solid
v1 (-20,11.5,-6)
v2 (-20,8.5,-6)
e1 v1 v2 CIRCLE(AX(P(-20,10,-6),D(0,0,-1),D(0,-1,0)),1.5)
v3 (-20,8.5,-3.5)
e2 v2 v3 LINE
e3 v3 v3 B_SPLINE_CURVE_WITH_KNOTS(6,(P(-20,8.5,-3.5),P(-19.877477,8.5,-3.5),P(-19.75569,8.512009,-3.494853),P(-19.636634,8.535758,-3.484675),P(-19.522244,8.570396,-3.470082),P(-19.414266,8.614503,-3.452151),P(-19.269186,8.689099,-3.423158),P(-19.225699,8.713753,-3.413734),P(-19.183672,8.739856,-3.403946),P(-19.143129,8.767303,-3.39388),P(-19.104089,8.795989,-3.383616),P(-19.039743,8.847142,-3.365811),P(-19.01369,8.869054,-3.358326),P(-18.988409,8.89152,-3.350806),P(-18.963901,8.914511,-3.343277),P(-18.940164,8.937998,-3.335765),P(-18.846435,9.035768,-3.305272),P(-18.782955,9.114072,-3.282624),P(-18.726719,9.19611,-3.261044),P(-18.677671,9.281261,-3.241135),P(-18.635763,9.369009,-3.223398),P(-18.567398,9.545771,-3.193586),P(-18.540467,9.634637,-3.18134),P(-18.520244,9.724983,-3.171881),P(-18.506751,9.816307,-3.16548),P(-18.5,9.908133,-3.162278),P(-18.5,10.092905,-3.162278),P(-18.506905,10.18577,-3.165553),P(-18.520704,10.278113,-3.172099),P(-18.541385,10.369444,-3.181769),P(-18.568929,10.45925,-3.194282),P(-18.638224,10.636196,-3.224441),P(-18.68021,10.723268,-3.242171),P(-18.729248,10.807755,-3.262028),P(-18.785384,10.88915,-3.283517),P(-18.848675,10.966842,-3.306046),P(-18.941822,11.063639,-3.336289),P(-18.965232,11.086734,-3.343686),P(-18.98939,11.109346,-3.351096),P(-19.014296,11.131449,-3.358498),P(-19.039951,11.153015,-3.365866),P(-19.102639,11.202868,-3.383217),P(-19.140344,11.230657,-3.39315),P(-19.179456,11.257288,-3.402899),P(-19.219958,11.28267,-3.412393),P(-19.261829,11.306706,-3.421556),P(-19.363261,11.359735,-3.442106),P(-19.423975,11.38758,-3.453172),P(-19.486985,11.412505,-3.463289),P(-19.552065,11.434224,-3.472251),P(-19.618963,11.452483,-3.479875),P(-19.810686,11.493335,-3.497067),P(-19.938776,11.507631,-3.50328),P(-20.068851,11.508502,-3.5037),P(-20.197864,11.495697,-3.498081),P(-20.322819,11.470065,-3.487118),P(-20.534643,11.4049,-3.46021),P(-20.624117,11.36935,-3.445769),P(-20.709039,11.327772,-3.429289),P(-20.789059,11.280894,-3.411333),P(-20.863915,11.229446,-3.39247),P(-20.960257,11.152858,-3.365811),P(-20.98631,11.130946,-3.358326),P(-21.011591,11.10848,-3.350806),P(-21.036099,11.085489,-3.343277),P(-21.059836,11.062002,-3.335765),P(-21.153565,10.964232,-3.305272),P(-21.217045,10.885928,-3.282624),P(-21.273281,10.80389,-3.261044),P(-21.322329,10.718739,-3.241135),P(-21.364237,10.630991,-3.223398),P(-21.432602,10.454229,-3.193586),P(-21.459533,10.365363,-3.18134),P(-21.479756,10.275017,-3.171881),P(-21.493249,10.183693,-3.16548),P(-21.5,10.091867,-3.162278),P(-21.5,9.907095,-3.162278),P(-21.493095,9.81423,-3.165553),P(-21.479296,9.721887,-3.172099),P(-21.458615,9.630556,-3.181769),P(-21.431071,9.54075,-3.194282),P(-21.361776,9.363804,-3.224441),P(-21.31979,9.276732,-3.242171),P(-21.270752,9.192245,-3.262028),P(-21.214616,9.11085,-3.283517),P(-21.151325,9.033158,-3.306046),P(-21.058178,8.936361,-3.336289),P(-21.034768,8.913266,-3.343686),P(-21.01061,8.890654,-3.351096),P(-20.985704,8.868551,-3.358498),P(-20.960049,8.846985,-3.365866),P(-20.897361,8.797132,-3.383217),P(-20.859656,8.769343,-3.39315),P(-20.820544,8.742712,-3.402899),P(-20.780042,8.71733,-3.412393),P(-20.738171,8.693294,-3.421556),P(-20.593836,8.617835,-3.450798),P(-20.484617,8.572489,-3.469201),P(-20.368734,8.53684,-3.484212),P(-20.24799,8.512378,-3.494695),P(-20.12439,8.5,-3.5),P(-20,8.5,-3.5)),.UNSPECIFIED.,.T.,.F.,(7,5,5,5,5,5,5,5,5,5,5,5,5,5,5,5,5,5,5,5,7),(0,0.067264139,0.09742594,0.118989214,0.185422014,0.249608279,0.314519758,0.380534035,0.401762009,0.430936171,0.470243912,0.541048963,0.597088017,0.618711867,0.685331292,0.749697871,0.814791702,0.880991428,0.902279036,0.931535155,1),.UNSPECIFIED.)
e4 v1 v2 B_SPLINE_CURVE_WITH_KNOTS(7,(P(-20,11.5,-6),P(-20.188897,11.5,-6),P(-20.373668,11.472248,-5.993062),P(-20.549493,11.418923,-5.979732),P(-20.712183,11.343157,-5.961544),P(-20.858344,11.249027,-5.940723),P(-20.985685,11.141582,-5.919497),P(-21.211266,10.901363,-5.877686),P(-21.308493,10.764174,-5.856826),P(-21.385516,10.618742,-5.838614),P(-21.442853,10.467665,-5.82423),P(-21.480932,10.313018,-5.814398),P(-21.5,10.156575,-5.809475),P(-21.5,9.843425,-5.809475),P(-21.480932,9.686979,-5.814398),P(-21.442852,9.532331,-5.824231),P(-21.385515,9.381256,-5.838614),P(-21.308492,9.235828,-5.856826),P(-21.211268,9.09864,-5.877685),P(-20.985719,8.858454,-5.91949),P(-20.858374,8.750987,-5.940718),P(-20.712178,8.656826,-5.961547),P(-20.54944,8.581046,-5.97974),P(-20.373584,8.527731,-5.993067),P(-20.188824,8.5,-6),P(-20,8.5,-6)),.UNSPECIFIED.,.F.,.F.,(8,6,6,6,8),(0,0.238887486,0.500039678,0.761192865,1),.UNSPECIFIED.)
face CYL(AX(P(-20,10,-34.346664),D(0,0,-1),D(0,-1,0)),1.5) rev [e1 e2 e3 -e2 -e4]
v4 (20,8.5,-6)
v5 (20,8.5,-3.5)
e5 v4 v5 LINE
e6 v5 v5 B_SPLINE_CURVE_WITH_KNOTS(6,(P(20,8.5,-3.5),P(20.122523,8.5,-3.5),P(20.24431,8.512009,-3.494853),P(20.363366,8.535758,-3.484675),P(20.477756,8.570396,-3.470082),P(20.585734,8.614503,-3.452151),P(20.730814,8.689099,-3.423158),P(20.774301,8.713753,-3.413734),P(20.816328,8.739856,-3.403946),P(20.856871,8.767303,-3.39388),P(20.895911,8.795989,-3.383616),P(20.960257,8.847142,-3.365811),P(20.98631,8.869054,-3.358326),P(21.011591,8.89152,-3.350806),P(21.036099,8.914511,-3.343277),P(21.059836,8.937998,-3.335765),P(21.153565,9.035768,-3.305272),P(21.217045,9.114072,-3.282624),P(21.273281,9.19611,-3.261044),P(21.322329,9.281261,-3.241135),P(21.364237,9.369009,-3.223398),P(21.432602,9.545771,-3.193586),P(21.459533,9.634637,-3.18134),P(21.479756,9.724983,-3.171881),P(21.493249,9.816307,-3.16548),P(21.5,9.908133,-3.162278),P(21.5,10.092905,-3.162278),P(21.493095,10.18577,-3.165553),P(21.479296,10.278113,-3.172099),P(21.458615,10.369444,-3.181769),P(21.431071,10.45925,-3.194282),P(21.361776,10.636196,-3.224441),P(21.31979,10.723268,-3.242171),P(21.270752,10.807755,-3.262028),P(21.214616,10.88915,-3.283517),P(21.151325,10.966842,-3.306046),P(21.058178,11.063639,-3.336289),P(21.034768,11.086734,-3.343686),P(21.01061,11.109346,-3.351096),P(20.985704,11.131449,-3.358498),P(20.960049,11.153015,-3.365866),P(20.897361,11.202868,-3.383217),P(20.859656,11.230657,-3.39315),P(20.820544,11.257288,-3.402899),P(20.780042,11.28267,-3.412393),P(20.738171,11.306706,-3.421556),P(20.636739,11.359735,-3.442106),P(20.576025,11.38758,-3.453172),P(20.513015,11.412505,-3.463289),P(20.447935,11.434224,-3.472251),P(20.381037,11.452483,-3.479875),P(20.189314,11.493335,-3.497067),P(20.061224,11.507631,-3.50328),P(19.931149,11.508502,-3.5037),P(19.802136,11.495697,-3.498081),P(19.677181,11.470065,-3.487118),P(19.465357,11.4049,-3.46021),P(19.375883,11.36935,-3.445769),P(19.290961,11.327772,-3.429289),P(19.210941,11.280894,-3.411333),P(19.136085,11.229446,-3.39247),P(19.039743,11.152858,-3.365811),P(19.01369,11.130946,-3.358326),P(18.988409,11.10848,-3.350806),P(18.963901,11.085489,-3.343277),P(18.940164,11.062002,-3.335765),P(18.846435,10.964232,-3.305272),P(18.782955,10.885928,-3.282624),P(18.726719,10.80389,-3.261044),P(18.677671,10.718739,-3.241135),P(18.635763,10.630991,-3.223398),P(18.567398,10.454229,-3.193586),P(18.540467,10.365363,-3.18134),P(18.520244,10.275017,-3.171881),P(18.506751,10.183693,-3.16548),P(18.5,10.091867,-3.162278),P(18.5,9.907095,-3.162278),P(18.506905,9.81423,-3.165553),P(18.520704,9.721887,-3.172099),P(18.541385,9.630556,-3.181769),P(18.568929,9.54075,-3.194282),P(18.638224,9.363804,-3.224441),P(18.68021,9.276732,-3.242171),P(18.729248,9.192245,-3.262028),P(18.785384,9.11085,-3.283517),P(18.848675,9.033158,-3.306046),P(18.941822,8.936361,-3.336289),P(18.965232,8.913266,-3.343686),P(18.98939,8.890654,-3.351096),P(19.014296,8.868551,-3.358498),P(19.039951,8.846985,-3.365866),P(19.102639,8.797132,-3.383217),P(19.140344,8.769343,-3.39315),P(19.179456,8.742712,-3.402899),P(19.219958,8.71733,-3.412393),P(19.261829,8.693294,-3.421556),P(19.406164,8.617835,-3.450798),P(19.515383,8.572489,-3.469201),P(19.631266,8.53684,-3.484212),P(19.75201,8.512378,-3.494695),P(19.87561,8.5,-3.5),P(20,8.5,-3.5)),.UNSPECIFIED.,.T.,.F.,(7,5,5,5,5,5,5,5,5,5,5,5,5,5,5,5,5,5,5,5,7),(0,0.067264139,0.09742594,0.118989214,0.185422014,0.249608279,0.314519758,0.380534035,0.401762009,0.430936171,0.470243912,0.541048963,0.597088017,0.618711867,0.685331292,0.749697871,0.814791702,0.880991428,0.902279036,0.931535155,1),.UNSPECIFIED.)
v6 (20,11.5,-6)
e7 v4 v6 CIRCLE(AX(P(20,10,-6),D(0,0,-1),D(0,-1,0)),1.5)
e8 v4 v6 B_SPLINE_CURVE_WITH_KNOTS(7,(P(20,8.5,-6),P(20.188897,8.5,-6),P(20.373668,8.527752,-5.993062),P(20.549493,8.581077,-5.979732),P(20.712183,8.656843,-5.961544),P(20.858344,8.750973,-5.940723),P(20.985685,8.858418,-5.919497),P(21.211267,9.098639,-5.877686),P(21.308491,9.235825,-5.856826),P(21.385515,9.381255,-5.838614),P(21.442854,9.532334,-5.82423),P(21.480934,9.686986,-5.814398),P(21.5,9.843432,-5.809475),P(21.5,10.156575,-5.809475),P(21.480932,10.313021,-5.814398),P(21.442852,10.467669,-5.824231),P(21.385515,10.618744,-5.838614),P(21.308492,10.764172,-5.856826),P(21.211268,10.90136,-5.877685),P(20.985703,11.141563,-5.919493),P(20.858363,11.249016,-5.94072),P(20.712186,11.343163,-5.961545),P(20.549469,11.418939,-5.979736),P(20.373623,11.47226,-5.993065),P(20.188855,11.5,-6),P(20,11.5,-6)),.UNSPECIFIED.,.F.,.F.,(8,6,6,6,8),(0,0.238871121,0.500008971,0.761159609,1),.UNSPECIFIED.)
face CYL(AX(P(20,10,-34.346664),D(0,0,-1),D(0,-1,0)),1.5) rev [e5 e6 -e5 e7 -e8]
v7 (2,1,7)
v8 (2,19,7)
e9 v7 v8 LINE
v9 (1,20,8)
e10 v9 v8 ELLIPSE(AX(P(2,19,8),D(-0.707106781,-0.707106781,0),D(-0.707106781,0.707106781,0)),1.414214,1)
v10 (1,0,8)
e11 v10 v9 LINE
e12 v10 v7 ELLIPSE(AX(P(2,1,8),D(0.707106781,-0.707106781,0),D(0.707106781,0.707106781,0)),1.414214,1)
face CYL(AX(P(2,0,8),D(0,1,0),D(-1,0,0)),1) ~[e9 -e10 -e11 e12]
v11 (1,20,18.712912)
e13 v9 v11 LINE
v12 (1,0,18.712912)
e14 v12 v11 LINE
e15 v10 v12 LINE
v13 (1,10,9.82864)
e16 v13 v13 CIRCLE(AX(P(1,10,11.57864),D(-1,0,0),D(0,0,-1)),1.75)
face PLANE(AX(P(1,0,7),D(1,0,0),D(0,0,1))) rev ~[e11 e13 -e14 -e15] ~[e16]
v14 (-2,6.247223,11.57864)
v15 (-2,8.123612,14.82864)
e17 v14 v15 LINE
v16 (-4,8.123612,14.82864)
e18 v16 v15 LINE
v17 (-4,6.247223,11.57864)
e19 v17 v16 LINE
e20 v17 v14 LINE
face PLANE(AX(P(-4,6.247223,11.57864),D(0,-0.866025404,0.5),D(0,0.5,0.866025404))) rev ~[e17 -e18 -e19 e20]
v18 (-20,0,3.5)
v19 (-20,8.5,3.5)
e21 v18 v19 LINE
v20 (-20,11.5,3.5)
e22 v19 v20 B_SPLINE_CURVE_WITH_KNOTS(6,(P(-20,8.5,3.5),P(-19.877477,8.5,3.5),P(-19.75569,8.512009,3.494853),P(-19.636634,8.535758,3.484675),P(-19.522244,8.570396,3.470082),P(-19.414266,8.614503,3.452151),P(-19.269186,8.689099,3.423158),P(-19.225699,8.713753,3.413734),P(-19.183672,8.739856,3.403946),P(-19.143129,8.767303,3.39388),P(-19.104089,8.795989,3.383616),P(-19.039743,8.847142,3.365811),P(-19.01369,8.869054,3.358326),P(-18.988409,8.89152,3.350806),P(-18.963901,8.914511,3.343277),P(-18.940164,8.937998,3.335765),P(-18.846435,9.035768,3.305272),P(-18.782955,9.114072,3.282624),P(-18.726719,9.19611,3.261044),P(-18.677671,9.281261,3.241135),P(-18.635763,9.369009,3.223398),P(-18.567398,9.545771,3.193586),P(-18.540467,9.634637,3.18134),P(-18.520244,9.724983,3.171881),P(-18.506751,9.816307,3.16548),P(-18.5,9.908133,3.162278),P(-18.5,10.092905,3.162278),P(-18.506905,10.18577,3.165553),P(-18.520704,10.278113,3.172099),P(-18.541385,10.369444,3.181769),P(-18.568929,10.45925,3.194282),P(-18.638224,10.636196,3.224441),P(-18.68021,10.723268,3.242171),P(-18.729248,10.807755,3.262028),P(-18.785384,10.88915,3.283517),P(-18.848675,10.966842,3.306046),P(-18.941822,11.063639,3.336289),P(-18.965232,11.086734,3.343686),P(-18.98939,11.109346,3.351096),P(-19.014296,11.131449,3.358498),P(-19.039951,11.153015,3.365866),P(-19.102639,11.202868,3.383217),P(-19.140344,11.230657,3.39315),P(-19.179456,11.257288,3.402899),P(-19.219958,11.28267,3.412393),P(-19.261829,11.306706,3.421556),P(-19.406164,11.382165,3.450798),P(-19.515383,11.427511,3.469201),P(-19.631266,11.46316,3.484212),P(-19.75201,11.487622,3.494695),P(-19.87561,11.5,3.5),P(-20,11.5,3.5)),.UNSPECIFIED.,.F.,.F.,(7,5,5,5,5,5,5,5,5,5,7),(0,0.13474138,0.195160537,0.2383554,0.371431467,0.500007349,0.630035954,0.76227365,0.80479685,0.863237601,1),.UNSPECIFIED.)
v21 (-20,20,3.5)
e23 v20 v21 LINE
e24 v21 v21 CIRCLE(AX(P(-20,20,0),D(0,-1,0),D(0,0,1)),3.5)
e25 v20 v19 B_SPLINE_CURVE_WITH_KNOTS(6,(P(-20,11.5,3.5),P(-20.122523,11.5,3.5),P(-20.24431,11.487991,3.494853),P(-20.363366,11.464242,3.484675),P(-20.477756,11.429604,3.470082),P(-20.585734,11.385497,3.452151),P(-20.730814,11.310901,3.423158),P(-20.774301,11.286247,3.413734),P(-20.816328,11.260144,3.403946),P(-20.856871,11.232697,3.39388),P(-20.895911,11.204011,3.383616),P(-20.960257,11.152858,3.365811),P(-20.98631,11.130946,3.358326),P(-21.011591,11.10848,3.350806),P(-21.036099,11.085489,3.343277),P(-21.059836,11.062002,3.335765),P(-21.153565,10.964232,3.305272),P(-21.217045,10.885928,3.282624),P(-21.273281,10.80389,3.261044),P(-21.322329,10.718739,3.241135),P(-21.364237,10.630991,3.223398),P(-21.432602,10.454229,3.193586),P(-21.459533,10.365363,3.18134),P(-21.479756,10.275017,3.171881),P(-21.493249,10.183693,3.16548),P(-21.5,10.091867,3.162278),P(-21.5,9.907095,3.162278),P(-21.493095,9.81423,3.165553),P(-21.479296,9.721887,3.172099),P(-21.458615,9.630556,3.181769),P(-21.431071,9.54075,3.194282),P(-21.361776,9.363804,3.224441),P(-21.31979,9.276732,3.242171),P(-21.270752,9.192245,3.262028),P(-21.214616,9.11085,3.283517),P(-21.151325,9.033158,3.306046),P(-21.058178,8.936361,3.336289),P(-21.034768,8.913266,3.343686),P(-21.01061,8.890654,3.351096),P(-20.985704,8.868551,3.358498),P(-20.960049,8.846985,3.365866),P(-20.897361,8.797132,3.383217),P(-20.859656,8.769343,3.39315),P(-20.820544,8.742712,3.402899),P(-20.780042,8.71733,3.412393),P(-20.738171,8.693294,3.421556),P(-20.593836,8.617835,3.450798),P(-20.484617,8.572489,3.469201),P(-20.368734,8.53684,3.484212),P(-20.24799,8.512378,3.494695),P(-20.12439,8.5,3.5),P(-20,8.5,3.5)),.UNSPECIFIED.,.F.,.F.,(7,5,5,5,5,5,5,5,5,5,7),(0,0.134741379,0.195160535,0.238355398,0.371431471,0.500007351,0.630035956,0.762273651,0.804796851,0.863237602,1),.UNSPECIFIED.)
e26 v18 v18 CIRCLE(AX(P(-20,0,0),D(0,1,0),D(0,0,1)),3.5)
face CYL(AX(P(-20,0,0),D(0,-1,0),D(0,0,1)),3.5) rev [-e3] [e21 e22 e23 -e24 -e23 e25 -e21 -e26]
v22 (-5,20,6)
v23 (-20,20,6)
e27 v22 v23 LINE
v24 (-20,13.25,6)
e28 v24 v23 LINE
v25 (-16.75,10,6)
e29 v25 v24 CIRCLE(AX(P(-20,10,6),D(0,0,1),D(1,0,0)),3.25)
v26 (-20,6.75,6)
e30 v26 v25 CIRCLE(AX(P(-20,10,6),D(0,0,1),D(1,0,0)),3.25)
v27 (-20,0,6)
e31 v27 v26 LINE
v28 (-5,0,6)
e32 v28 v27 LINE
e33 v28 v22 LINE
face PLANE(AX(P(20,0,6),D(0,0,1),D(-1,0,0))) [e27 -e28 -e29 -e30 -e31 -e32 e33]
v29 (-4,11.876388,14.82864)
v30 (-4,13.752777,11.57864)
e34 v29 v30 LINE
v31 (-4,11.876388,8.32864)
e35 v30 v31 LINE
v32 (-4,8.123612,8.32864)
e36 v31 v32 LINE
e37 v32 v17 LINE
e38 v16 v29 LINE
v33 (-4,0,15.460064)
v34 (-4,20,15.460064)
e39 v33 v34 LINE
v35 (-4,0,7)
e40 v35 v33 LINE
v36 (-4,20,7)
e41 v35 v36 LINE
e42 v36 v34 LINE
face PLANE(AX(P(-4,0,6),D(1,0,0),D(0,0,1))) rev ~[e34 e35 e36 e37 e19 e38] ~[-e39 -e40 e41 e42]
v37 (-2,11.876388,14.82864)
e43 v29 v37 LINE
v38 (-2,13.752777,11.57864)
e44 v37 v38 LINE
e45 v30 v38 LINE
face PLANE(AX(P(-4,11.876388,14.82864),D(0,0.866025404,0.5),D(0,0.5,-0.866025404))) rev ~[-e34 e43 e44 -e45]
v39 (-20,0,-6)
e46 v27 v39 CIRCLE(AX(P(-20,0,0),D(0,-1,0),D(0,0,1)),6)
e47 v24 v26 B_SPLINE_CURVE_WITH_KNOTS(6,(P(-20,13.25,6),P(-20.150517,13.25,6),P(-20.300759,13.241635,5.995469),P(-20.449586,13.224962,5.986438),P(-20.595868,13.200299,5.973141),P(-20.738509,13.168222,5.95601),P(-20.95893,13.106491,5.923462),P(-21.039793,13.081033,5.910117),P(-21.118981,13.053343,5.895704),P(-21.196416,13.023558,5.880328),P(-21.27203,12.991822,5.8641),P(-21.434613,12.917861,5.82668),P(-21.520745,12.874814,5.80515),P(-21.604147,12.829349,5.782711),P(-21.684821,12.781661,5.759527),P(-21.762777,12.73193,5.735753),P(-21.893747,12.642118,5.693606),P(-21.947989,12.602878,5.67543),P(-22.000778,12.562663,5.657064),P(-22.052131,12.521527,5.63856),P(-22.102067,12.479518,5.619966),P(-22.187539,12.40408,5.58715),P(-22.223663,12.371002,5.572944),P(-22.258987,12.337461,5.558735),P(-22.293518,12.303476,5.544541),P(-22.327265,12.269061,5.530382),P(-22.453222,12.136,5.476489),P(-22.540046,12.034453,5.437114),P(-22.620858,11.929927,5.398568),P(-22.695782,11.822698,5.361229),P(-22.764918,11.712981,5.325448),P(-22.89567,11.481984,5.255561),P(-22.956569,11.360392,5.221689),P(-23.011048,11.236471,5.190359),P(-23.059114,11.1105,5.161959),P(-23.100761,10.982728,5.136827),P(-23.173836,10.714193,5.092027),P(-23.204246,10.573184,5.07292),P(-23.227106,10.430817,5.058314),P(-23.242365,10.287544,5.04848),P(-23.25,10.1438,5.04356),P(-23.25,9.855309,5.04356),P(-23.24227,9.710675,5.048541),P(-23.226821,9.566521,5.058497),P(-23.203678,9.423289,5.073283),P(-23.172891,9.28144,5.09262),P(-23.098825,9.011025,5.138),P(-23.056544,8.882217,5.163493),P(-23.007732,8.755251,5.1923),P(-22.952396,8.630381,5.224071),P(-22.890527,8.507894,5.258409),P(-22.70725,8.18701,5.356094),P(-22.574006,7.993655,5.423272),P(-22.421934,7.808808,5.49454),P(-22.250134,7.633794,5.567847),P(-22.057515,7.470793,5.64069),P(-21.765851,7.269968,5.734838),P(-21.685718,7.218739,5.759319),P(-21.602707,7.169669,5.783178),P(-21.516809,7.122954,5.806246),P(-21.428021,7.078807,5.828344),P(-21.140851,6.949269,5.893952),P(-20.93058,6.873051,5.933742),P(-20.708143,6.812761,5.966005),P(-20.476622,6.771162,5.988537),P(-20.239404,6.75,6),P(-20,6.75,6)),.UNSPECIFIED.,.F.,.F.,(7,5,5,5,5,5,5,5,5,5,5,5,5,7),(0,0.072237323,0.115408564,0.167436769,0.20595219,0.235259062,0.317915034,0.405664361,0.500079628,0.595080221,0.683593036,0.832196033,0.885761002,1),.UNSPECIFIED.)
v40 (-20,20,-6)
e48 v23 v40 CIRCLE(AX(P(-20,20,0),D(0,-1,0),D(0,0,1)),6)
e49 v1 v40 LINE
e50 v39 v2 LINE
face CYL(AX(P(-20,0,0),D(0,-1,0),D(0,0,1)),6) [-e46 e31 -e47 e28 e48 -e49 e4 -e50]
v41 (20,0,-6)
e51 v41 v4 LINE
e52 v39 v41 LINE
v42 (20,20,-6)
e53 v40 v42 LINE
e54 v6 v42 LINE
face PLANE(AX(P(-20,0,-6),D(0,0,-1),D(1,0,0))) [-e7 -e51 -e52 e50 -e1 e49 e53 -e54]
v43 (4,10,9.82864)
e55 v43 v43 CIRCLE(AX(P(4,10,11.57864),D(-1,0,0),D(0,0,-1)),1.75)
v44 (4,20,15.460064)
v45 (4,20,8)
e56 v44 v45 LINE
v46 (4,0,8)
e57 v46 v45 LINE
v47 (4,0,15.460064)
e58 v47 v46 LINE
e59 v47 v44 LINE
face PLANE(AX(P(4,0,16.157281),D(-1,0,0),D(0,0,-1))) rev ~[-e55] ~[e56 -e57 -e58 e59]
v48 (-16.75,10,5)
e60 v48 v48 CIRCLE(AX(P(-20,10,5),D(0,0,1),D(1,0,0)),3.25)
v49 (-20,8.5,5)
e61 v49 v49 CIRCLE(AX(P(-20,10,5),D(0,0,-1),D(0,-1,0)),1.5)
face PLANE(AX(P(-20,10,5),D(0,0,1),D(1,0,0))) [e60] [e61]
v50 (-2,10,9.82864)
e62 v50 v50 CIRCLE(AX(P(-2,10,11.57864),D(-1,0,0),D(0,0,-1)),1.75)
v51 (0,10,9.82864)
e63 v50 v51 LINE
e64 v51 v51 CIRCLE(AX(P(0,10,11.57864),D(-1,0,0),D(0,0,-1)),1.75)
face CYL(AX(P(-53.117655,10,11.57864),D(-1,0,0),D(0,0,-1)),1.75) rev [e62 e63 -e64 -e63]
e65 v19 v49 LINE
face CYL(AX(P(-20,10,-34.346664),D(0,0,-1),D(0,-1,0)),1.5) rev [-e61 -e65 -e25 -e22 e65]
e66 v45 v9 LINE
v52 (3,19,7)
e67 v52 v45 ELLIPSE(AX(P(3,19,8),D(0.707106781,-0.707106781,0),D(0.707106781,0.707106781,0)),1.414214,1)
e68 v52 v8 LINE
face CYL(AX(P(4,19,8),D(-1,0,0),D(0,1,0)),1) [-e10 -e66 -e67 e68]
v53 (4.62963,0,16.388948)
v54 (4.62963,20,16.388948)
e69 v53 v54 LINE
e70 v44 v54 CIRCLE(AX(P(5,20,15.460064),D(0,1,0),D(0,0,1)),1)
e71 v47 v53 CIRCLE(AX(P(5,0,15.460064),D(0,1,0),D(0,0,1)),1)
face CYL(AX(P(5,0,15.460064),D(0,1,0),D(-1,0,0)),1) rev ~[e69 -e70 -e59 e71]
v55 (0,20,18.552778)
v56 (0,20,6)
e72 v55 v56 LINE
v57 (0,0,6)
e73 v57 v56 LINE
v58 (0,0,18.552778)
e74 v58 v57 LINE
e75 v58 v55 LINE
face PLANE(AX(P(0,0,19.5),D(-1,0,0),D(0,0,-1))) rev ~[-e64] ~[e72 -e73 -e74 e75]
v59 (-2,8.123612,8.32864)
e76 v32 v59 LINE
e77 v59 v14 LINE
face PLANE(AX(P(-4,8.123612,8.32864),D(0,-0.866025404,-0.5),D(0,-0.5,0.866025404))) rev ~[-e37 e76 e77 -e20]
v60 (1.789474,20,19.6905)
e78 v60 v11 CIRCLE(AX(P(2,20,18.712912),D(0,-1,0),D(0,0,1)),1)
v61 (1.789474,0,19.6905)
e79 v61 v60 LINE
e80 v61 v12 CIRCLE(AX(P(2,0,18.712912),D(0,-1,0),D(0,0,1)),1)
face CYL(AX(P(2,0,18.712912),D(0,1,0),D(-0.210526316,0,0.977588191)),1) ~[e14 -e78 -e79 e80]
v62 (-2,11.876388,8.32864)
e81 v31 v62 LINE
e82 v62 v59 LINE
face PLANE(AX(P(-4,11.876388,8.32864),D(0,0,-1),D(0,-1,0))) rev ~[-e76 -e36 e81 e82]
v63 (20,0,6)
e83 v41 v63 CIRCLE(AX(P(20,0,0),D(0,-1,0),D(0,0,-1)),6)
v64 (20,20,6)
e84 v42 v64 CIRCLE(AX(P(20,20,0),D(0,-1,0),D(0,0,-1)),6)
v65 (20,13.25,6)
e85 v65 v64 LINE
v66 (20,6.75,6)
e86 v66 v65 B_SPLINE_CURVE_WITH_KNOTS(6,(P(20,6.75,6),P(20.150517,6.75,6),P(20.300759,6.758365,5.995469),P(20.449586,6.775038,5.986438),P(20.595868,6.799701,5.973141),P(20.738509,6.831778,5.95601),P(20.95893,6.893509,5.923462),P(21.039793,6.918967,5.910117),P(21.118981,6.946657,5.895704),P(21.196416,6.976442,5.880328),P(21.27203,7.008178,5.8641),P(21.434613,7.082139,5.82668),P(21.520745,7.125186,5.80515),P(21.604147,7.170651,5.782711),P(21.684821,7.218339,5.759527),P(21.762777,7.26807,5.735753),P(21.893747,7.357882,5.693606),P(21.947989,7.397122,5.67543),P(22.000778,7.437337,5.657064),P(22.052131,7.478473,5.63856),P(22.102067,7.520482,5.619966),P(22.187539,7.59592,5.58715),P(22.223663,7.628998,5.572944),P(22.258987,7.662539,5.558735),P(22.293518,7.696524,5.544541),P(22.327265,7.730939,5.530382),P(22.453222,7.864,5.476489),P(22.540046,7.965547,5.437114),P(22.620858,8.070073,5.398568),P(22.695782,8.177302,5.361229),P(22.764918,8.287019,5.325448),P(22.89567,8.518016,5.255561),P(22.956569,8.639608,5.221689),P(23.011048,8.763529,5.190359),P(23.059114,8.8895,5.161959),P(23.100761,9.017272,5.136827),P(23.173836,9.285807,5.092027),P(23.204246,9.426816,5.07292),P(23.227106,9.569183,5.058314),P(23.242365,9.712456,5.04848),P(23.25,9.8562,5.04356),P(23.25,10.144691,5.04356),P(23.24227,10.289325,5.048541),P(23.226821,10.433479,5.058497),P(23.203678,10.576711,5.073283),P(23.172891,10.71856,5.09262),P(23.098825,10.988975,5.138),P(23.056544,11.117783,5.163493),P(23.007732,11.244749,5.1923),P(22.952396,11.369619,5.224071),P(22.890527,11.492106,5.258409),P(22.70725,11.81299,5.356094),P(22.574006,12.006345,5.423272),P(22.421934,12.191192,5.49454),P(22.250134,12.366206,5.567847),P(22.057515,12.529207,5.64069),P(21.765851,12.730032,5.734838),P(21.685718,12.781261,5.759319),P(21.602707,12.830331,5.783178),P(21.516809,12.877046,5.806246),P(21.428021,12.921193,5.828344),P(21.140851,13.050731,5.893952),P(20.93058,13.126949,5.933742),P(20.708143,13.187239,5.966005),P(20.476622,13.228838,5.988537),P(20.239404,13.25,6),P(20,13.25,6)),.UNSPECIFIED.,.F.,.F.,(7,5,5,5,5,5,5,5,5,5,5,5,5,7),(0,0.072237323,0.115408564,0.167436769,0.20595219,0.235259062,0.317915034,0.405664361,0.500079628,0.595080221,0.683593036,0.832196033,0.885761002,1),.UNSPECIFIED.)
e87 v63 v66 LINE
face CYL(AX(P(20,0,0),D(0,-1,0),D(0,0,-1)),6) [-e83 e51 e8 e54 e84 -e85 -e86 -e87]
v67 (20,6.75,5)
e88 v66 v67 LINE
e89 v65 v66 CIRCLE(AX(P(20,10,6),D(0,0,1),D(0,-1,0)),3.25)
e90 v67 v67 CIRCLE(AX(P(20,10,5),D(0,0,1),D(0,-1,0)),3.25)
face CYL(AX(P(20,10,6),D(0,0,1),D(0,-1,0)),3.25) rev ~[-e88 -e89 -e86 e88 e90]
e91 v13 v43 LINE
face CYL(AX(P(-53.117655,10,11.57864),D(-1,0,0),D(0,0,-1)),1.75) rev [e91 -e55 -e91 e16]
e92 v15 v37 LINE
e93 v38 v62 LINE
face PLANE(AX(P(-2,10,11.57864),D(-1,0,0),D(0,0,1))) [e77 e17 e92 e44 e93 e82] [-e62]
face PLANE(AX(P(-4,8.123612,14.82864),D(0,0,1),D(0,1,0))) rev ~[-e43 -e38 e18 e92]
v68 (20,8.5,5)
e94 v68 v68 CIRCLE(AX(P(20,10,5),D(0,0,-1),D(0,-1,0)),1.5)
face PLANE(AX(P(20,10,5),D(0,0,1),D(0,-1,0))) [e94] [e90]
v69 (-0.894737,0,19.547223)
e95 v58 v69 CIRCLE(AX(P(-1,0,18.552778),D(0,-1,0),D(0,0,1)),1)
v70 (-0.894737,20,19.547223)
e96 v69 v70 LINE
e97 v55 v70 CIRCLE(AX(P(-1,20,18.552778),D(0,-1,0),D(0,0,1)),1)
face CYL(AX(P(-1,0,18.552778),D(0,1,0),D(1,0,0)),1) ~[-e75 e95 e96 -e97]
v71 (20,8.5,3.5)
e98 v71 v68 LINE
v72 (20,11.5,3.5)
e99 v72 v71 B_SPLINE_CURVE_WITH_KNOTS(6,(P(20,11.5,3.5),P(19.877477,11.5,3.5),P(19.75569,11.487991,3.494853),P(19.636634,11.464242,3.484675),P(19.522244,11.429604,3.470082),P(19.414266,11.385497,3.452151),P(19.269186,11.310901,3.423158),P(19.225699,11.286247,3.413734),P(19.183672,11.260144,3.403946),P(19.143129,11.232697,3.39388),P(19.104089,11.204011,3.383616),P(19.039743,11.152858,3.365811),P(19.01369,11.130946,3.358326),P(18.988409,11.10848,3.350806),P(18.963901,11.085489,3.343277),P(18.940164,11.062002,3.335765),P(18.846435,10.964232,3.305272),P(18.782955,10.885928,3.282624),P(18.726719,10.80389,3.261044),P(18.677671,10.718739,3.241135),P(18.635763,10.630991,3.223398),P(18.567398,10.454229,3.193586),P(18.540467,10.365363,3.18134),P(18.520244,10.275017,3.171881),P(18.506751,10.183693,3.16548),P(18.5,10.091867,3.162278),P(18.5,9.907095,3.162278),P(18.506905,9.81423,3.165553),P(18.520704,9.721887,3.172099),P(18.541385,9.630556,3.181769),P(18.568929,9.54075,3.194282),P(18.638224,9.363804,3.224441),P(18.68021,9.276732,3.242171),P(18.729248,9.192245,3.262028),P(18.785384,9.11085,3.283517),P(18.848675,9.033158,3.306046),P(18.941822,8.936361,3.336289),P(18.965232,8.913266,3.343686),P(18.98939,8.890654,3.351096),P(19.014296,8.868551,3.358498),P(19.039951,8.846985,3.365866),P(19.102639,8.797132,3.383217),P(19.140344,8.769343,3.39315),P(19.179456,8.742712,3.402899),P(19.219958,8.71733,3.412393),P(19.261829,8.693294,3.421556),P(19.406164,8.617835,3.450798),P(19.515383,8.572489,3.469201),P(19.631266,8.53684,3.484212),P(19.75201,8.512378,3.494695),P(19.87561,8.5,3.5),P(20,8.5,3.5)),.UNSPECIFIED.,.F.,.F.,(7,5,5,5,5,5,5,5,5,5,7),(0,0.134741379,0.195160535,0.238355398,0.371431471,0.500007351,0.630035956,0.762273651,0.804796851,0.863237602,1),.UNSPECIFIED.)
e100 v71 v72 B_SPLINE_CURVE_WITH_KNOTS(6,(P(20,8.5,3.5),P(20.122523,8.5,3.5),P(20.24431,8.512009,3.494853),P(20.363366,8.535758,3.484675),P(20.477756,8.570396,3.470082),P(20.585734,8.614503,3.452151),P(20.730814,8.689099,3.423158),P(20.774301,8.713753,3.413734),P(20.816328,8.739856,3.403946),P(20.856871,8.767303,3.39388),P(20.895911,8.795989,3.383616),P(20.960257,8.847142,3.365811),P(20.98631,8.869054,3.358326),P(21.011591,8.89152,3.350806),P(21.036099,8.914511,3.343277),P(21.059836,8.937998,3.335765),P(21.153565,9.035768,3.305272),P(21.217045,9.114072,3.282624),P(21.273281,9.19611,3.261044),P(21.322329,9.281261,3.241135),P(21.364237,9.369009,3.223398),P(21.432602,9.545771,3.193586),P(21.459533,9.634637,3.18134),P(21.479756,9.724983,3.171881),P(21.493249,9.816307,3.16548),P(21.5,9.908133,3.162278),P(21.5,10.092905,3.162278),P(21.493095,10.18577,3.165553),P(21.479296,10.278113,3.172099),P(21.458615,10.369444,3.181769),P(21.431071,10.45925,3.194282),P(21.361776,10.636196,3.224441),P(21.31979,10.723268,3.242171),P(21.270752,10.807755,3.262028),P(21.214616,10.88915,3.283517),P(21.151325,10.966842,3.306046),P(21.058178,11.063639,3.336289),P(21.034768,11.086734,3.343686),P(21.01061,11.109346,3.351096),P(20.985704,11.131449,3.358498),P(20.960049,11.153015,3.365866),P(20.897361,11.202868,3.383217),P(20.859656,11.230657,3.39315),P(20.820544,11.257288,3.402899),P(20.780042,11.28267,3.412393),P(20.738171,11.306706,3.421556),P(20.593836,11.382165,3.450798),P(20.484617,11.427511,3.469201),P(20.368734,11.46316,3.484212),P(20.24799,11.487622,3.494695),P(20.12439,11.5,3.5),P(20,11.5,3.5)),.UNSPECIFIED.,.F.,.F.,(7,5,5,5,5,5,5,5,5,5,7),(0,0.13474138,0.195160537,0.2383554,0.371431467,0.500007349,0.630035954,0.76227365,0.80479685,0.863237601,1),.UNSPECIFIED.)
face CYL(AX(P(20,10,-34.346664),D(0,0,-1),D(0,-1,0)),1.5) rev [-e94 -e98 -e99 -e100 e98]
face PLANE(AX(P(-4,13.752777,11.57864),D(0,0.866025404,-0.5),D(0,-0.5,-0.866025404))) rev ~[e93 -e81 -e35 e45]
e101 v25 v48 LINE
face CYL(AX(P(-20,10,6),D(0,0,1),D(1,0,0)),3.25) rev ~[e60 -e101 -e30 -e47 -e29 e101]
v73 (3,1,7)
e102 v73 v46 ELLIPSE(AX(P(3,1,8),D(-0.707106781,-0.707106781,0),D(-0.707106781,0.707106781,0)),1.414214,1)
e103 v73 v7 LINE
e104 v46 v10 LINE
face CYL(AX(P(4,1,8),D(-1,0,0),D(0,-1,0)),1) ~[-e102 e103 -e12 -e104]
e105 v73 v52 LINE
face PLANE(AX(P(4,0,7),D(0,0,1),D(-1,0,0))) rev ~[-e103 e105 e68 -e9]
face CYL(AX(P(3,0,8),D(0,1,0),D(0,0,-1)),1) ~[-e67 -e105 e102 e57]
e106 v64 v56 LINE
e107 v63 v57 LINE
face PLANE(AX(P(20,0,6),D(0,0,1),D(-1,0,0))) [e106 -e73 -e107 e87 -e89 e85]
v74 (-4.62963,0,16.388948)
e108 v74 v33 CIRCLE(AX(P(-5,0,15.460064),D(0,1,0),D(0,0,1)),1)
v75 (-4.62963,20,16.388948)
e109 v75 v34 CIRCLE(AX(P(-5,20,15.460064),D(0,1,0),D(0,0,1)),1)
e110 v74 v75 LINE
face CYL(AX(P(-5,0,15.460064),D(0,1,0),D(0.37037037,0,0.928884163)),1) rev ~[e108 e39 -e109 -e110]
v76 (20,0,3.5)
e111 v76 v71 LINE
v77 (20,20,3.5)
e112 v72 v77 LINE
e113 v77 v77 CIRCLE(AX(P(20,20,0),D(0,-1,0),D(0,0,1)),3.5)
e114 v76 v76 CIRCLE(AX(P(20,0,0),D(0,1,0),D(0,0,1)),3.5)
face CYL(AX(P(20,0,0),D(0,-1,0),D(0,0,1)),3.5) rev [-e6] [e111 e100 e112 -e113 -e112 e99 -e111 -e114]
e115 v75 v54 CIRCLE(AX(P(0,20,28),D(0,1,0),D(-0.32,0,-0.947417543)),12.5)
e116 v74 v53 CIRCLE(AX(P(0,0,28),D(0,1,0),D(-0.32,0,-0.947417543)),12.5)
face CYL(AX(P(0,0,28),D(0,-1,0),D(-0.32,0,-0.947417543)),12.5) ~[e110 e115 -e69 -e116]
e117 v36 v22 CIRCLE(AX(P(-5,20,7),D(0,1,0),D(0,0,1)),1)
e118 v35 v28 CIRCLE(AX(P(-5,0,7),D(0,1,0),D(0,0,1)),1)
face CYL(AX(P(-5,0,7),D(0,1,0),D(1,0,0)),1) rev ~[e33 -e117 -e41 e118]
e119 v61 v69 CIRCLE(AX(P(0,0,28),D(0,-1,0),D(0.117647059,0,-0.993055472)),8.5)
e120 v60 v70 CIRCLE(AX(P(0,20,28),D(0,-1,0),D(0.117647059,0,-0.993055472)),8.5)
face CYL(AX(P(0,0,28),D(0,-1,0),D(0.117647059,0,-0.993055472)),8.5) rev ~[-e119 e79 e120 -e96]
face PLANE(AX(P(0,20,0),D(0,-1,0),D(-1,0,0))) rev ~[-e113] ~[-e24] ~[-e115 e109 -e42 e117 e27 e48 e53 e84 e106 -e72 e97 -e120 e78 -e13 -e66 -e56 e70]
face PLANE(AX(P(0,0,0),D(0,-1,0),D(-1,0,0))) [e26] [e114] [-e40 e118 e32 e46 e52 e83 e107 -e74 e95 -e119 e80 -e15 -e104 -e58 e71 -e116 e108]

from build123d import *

# Parameters (mm, degrees)
SALIENTE_EXTRUIR1_DEPTH    = 20
CROQUIS2_R                 = 3.5
CORTAR_EXTRUIR1_DEPTH      = 34.346664001
CORTAR_EXTRUIR2_DEPTH      = 34.346664001
CORTAR_EXTRUIR2_DEPTH_BACK = 34.346664001
CROQUIS3_R                 = 1.5
CROQUIS4_R                 = 3.25
CORTAR_EXTRUIR3_DEPTH      = 1
SALIENTE_EXTRUIR2_DEPTH    = 20
CORTAR_EXTRUIR4_DEPTH      = 53.117655446
CORTAR_EXTRUIR4_DEPTH_BACK = 53.117655446
CROQUIS7_R                 = 1.75
CORTAR_EXTRUIR5_DEPTH      = 2
REDONDEO1_R                = 1


with BuildPart() as part:
    # Croquis1 → Saliente-Extruir1 (new body)
    with BuildSketch(Plane(origin=(0, 0, 0), x_dir=(1, 0, 0), z_dir=(0, 1, 0))):
        with BuildLine():
            Line((-20, 6), (20, 6))
            ThreePointArc((20, 6), (26, 0), (20, -6))
            Line((20, -6), (-20, -6))
            ThreePointArc((-20, -6), (-26, 0), (-20, 6))
        make_face()
    extrude(amount=SALIENTE_EXTRUIR1_DEPTH)

    # Croquis2 → Cortar-Extruir1 (cut, through all)
    with BuildSketch(Plane(origin=(0, 0, 0), x_dir=(1, 0, 0), z_dir=(0, 1, 0))):
        with Locations(Location((-20, 0, 0), (0, 0, 270))):
            Circle(CROQUIS2_R)
        with Locations(Location((20, 0, 0), (0, 0, 270))):
            Circle(CROQUIS2_R)
    extrude(amount=CORTAR_EXTRUIR1_DEPTH, mode=Mode.SUBTRACT)

    # Croquis3 → Cortar-Extruir2 (cut, two sides: drawn at the far end of the back side and taken through both)
    with BuildSketch(Plane.XY.offset(-CORTAR_EXTRUIR2_DEPTH_BACK)):
        with Locations(Location((-20, 10, 0), (0, 0, 270))):
            Circle(CROQUIS3_R)
        with Locations(Location((20, 10, 0), (0, 0, 270))):
            Circle(CROQUIS3_R)
    extrude(amount=CORTAR_EXTRUIR2_DEPTH + CORTAR_EXTRUIR2_DEPTH_BACK, mode=Mode.SUBTRACT)

    # Croquis4 → Cortar-Extruir3 (cut)
    with BuildSketch(Plane.XY.offset(6)):
        with Locations((-20, 10)):
            Circle(CROQUIS4_R)
        with Locations(Location((20, 10, 0), (0, 0, 270.000000001))):
            Circle(CROQUIS4_R)
    extrude(amount=-CORTAR_EXTRUIR3_DEPTH, mode=Mode.SUBTRACT)

    # Croquis6 → Saliente-Extruir2 (add)
    with BuildSketch(Plane.XZ):
        with BuildLine():
            Line((-4, 6), (-4, 16.157280718))
            ThreePointArc((-4, 16.157280718), (0, 40.5), (4, 16.157280718))
            Line((4, 16.157280718), (4, 7))
            Line((4, 7), (1, 7))
            Line((1, 7), (1, 19.559028492))
            ThreePointArc((1, 19.559028492), (-0.500870333, 36.485230045), (0, 19.5))
            Line((0, 19.5), (0, 6))
            Line((0, 6), (-4, 6))
        make_face()
    extrude(amount=-SALIENTE_EXTRUIR2_DEPTH)

    # Croquis7 → Cortar-Extruir4 (cut, two sides: drawn at the far end of the back side and taken through both)
    with BuildSketch(Plane(origin=(0, 0, 0), x_dir=(0, 0, -1), z_dir=(1, 0, 0)).offset(-CORTAR_EXTRUIR4_DEPTH_BACK)):
        with Locations((-11.578640359, 10)):
            Circle(CROQUIS7_R)
    extrude(amount=CORTAR_EXTRUIR4_DEPTH + CORTAR_EXTRUIR4_DEPTH_BACK, mode=Mode.SUBTRACT)

    # Croquis8 → Cortar-Extruir5 (cut)
    with BuildSketch(Plane.ZY.offset(4)):
        Polygon((11.578640359, 13.75277675), (8.328640359, 11.876388375), (8.328640359, 8.123611625), (11.578640359, 6.24722325), (14.828640359, 8.123611625), (14.828640359, 11.876388375), align=None)
    extrude(amount=-CORTAR_EXTRUIR5_DEPTH, mode=Mode.SUBTRACT)

    # Redondeo1
    redondeo1_edges = [part.edges().sort_by_distance(p)[0] for p in [
        (0, 10, 19.5),
        (-4, 10, 6),
        (-4, 10, 16.157280718),
        (4, 10, 16.157280718),
        (4, 10, 7),
        (1, 10, 7),
        (1, 10, 19.559028492),
        (2.5, 0, 7),
        (2.5, 20, 7),
    ]]
    fillet(redondeo1_edges, radius=REDONDEO1_R)


solid = part.part
